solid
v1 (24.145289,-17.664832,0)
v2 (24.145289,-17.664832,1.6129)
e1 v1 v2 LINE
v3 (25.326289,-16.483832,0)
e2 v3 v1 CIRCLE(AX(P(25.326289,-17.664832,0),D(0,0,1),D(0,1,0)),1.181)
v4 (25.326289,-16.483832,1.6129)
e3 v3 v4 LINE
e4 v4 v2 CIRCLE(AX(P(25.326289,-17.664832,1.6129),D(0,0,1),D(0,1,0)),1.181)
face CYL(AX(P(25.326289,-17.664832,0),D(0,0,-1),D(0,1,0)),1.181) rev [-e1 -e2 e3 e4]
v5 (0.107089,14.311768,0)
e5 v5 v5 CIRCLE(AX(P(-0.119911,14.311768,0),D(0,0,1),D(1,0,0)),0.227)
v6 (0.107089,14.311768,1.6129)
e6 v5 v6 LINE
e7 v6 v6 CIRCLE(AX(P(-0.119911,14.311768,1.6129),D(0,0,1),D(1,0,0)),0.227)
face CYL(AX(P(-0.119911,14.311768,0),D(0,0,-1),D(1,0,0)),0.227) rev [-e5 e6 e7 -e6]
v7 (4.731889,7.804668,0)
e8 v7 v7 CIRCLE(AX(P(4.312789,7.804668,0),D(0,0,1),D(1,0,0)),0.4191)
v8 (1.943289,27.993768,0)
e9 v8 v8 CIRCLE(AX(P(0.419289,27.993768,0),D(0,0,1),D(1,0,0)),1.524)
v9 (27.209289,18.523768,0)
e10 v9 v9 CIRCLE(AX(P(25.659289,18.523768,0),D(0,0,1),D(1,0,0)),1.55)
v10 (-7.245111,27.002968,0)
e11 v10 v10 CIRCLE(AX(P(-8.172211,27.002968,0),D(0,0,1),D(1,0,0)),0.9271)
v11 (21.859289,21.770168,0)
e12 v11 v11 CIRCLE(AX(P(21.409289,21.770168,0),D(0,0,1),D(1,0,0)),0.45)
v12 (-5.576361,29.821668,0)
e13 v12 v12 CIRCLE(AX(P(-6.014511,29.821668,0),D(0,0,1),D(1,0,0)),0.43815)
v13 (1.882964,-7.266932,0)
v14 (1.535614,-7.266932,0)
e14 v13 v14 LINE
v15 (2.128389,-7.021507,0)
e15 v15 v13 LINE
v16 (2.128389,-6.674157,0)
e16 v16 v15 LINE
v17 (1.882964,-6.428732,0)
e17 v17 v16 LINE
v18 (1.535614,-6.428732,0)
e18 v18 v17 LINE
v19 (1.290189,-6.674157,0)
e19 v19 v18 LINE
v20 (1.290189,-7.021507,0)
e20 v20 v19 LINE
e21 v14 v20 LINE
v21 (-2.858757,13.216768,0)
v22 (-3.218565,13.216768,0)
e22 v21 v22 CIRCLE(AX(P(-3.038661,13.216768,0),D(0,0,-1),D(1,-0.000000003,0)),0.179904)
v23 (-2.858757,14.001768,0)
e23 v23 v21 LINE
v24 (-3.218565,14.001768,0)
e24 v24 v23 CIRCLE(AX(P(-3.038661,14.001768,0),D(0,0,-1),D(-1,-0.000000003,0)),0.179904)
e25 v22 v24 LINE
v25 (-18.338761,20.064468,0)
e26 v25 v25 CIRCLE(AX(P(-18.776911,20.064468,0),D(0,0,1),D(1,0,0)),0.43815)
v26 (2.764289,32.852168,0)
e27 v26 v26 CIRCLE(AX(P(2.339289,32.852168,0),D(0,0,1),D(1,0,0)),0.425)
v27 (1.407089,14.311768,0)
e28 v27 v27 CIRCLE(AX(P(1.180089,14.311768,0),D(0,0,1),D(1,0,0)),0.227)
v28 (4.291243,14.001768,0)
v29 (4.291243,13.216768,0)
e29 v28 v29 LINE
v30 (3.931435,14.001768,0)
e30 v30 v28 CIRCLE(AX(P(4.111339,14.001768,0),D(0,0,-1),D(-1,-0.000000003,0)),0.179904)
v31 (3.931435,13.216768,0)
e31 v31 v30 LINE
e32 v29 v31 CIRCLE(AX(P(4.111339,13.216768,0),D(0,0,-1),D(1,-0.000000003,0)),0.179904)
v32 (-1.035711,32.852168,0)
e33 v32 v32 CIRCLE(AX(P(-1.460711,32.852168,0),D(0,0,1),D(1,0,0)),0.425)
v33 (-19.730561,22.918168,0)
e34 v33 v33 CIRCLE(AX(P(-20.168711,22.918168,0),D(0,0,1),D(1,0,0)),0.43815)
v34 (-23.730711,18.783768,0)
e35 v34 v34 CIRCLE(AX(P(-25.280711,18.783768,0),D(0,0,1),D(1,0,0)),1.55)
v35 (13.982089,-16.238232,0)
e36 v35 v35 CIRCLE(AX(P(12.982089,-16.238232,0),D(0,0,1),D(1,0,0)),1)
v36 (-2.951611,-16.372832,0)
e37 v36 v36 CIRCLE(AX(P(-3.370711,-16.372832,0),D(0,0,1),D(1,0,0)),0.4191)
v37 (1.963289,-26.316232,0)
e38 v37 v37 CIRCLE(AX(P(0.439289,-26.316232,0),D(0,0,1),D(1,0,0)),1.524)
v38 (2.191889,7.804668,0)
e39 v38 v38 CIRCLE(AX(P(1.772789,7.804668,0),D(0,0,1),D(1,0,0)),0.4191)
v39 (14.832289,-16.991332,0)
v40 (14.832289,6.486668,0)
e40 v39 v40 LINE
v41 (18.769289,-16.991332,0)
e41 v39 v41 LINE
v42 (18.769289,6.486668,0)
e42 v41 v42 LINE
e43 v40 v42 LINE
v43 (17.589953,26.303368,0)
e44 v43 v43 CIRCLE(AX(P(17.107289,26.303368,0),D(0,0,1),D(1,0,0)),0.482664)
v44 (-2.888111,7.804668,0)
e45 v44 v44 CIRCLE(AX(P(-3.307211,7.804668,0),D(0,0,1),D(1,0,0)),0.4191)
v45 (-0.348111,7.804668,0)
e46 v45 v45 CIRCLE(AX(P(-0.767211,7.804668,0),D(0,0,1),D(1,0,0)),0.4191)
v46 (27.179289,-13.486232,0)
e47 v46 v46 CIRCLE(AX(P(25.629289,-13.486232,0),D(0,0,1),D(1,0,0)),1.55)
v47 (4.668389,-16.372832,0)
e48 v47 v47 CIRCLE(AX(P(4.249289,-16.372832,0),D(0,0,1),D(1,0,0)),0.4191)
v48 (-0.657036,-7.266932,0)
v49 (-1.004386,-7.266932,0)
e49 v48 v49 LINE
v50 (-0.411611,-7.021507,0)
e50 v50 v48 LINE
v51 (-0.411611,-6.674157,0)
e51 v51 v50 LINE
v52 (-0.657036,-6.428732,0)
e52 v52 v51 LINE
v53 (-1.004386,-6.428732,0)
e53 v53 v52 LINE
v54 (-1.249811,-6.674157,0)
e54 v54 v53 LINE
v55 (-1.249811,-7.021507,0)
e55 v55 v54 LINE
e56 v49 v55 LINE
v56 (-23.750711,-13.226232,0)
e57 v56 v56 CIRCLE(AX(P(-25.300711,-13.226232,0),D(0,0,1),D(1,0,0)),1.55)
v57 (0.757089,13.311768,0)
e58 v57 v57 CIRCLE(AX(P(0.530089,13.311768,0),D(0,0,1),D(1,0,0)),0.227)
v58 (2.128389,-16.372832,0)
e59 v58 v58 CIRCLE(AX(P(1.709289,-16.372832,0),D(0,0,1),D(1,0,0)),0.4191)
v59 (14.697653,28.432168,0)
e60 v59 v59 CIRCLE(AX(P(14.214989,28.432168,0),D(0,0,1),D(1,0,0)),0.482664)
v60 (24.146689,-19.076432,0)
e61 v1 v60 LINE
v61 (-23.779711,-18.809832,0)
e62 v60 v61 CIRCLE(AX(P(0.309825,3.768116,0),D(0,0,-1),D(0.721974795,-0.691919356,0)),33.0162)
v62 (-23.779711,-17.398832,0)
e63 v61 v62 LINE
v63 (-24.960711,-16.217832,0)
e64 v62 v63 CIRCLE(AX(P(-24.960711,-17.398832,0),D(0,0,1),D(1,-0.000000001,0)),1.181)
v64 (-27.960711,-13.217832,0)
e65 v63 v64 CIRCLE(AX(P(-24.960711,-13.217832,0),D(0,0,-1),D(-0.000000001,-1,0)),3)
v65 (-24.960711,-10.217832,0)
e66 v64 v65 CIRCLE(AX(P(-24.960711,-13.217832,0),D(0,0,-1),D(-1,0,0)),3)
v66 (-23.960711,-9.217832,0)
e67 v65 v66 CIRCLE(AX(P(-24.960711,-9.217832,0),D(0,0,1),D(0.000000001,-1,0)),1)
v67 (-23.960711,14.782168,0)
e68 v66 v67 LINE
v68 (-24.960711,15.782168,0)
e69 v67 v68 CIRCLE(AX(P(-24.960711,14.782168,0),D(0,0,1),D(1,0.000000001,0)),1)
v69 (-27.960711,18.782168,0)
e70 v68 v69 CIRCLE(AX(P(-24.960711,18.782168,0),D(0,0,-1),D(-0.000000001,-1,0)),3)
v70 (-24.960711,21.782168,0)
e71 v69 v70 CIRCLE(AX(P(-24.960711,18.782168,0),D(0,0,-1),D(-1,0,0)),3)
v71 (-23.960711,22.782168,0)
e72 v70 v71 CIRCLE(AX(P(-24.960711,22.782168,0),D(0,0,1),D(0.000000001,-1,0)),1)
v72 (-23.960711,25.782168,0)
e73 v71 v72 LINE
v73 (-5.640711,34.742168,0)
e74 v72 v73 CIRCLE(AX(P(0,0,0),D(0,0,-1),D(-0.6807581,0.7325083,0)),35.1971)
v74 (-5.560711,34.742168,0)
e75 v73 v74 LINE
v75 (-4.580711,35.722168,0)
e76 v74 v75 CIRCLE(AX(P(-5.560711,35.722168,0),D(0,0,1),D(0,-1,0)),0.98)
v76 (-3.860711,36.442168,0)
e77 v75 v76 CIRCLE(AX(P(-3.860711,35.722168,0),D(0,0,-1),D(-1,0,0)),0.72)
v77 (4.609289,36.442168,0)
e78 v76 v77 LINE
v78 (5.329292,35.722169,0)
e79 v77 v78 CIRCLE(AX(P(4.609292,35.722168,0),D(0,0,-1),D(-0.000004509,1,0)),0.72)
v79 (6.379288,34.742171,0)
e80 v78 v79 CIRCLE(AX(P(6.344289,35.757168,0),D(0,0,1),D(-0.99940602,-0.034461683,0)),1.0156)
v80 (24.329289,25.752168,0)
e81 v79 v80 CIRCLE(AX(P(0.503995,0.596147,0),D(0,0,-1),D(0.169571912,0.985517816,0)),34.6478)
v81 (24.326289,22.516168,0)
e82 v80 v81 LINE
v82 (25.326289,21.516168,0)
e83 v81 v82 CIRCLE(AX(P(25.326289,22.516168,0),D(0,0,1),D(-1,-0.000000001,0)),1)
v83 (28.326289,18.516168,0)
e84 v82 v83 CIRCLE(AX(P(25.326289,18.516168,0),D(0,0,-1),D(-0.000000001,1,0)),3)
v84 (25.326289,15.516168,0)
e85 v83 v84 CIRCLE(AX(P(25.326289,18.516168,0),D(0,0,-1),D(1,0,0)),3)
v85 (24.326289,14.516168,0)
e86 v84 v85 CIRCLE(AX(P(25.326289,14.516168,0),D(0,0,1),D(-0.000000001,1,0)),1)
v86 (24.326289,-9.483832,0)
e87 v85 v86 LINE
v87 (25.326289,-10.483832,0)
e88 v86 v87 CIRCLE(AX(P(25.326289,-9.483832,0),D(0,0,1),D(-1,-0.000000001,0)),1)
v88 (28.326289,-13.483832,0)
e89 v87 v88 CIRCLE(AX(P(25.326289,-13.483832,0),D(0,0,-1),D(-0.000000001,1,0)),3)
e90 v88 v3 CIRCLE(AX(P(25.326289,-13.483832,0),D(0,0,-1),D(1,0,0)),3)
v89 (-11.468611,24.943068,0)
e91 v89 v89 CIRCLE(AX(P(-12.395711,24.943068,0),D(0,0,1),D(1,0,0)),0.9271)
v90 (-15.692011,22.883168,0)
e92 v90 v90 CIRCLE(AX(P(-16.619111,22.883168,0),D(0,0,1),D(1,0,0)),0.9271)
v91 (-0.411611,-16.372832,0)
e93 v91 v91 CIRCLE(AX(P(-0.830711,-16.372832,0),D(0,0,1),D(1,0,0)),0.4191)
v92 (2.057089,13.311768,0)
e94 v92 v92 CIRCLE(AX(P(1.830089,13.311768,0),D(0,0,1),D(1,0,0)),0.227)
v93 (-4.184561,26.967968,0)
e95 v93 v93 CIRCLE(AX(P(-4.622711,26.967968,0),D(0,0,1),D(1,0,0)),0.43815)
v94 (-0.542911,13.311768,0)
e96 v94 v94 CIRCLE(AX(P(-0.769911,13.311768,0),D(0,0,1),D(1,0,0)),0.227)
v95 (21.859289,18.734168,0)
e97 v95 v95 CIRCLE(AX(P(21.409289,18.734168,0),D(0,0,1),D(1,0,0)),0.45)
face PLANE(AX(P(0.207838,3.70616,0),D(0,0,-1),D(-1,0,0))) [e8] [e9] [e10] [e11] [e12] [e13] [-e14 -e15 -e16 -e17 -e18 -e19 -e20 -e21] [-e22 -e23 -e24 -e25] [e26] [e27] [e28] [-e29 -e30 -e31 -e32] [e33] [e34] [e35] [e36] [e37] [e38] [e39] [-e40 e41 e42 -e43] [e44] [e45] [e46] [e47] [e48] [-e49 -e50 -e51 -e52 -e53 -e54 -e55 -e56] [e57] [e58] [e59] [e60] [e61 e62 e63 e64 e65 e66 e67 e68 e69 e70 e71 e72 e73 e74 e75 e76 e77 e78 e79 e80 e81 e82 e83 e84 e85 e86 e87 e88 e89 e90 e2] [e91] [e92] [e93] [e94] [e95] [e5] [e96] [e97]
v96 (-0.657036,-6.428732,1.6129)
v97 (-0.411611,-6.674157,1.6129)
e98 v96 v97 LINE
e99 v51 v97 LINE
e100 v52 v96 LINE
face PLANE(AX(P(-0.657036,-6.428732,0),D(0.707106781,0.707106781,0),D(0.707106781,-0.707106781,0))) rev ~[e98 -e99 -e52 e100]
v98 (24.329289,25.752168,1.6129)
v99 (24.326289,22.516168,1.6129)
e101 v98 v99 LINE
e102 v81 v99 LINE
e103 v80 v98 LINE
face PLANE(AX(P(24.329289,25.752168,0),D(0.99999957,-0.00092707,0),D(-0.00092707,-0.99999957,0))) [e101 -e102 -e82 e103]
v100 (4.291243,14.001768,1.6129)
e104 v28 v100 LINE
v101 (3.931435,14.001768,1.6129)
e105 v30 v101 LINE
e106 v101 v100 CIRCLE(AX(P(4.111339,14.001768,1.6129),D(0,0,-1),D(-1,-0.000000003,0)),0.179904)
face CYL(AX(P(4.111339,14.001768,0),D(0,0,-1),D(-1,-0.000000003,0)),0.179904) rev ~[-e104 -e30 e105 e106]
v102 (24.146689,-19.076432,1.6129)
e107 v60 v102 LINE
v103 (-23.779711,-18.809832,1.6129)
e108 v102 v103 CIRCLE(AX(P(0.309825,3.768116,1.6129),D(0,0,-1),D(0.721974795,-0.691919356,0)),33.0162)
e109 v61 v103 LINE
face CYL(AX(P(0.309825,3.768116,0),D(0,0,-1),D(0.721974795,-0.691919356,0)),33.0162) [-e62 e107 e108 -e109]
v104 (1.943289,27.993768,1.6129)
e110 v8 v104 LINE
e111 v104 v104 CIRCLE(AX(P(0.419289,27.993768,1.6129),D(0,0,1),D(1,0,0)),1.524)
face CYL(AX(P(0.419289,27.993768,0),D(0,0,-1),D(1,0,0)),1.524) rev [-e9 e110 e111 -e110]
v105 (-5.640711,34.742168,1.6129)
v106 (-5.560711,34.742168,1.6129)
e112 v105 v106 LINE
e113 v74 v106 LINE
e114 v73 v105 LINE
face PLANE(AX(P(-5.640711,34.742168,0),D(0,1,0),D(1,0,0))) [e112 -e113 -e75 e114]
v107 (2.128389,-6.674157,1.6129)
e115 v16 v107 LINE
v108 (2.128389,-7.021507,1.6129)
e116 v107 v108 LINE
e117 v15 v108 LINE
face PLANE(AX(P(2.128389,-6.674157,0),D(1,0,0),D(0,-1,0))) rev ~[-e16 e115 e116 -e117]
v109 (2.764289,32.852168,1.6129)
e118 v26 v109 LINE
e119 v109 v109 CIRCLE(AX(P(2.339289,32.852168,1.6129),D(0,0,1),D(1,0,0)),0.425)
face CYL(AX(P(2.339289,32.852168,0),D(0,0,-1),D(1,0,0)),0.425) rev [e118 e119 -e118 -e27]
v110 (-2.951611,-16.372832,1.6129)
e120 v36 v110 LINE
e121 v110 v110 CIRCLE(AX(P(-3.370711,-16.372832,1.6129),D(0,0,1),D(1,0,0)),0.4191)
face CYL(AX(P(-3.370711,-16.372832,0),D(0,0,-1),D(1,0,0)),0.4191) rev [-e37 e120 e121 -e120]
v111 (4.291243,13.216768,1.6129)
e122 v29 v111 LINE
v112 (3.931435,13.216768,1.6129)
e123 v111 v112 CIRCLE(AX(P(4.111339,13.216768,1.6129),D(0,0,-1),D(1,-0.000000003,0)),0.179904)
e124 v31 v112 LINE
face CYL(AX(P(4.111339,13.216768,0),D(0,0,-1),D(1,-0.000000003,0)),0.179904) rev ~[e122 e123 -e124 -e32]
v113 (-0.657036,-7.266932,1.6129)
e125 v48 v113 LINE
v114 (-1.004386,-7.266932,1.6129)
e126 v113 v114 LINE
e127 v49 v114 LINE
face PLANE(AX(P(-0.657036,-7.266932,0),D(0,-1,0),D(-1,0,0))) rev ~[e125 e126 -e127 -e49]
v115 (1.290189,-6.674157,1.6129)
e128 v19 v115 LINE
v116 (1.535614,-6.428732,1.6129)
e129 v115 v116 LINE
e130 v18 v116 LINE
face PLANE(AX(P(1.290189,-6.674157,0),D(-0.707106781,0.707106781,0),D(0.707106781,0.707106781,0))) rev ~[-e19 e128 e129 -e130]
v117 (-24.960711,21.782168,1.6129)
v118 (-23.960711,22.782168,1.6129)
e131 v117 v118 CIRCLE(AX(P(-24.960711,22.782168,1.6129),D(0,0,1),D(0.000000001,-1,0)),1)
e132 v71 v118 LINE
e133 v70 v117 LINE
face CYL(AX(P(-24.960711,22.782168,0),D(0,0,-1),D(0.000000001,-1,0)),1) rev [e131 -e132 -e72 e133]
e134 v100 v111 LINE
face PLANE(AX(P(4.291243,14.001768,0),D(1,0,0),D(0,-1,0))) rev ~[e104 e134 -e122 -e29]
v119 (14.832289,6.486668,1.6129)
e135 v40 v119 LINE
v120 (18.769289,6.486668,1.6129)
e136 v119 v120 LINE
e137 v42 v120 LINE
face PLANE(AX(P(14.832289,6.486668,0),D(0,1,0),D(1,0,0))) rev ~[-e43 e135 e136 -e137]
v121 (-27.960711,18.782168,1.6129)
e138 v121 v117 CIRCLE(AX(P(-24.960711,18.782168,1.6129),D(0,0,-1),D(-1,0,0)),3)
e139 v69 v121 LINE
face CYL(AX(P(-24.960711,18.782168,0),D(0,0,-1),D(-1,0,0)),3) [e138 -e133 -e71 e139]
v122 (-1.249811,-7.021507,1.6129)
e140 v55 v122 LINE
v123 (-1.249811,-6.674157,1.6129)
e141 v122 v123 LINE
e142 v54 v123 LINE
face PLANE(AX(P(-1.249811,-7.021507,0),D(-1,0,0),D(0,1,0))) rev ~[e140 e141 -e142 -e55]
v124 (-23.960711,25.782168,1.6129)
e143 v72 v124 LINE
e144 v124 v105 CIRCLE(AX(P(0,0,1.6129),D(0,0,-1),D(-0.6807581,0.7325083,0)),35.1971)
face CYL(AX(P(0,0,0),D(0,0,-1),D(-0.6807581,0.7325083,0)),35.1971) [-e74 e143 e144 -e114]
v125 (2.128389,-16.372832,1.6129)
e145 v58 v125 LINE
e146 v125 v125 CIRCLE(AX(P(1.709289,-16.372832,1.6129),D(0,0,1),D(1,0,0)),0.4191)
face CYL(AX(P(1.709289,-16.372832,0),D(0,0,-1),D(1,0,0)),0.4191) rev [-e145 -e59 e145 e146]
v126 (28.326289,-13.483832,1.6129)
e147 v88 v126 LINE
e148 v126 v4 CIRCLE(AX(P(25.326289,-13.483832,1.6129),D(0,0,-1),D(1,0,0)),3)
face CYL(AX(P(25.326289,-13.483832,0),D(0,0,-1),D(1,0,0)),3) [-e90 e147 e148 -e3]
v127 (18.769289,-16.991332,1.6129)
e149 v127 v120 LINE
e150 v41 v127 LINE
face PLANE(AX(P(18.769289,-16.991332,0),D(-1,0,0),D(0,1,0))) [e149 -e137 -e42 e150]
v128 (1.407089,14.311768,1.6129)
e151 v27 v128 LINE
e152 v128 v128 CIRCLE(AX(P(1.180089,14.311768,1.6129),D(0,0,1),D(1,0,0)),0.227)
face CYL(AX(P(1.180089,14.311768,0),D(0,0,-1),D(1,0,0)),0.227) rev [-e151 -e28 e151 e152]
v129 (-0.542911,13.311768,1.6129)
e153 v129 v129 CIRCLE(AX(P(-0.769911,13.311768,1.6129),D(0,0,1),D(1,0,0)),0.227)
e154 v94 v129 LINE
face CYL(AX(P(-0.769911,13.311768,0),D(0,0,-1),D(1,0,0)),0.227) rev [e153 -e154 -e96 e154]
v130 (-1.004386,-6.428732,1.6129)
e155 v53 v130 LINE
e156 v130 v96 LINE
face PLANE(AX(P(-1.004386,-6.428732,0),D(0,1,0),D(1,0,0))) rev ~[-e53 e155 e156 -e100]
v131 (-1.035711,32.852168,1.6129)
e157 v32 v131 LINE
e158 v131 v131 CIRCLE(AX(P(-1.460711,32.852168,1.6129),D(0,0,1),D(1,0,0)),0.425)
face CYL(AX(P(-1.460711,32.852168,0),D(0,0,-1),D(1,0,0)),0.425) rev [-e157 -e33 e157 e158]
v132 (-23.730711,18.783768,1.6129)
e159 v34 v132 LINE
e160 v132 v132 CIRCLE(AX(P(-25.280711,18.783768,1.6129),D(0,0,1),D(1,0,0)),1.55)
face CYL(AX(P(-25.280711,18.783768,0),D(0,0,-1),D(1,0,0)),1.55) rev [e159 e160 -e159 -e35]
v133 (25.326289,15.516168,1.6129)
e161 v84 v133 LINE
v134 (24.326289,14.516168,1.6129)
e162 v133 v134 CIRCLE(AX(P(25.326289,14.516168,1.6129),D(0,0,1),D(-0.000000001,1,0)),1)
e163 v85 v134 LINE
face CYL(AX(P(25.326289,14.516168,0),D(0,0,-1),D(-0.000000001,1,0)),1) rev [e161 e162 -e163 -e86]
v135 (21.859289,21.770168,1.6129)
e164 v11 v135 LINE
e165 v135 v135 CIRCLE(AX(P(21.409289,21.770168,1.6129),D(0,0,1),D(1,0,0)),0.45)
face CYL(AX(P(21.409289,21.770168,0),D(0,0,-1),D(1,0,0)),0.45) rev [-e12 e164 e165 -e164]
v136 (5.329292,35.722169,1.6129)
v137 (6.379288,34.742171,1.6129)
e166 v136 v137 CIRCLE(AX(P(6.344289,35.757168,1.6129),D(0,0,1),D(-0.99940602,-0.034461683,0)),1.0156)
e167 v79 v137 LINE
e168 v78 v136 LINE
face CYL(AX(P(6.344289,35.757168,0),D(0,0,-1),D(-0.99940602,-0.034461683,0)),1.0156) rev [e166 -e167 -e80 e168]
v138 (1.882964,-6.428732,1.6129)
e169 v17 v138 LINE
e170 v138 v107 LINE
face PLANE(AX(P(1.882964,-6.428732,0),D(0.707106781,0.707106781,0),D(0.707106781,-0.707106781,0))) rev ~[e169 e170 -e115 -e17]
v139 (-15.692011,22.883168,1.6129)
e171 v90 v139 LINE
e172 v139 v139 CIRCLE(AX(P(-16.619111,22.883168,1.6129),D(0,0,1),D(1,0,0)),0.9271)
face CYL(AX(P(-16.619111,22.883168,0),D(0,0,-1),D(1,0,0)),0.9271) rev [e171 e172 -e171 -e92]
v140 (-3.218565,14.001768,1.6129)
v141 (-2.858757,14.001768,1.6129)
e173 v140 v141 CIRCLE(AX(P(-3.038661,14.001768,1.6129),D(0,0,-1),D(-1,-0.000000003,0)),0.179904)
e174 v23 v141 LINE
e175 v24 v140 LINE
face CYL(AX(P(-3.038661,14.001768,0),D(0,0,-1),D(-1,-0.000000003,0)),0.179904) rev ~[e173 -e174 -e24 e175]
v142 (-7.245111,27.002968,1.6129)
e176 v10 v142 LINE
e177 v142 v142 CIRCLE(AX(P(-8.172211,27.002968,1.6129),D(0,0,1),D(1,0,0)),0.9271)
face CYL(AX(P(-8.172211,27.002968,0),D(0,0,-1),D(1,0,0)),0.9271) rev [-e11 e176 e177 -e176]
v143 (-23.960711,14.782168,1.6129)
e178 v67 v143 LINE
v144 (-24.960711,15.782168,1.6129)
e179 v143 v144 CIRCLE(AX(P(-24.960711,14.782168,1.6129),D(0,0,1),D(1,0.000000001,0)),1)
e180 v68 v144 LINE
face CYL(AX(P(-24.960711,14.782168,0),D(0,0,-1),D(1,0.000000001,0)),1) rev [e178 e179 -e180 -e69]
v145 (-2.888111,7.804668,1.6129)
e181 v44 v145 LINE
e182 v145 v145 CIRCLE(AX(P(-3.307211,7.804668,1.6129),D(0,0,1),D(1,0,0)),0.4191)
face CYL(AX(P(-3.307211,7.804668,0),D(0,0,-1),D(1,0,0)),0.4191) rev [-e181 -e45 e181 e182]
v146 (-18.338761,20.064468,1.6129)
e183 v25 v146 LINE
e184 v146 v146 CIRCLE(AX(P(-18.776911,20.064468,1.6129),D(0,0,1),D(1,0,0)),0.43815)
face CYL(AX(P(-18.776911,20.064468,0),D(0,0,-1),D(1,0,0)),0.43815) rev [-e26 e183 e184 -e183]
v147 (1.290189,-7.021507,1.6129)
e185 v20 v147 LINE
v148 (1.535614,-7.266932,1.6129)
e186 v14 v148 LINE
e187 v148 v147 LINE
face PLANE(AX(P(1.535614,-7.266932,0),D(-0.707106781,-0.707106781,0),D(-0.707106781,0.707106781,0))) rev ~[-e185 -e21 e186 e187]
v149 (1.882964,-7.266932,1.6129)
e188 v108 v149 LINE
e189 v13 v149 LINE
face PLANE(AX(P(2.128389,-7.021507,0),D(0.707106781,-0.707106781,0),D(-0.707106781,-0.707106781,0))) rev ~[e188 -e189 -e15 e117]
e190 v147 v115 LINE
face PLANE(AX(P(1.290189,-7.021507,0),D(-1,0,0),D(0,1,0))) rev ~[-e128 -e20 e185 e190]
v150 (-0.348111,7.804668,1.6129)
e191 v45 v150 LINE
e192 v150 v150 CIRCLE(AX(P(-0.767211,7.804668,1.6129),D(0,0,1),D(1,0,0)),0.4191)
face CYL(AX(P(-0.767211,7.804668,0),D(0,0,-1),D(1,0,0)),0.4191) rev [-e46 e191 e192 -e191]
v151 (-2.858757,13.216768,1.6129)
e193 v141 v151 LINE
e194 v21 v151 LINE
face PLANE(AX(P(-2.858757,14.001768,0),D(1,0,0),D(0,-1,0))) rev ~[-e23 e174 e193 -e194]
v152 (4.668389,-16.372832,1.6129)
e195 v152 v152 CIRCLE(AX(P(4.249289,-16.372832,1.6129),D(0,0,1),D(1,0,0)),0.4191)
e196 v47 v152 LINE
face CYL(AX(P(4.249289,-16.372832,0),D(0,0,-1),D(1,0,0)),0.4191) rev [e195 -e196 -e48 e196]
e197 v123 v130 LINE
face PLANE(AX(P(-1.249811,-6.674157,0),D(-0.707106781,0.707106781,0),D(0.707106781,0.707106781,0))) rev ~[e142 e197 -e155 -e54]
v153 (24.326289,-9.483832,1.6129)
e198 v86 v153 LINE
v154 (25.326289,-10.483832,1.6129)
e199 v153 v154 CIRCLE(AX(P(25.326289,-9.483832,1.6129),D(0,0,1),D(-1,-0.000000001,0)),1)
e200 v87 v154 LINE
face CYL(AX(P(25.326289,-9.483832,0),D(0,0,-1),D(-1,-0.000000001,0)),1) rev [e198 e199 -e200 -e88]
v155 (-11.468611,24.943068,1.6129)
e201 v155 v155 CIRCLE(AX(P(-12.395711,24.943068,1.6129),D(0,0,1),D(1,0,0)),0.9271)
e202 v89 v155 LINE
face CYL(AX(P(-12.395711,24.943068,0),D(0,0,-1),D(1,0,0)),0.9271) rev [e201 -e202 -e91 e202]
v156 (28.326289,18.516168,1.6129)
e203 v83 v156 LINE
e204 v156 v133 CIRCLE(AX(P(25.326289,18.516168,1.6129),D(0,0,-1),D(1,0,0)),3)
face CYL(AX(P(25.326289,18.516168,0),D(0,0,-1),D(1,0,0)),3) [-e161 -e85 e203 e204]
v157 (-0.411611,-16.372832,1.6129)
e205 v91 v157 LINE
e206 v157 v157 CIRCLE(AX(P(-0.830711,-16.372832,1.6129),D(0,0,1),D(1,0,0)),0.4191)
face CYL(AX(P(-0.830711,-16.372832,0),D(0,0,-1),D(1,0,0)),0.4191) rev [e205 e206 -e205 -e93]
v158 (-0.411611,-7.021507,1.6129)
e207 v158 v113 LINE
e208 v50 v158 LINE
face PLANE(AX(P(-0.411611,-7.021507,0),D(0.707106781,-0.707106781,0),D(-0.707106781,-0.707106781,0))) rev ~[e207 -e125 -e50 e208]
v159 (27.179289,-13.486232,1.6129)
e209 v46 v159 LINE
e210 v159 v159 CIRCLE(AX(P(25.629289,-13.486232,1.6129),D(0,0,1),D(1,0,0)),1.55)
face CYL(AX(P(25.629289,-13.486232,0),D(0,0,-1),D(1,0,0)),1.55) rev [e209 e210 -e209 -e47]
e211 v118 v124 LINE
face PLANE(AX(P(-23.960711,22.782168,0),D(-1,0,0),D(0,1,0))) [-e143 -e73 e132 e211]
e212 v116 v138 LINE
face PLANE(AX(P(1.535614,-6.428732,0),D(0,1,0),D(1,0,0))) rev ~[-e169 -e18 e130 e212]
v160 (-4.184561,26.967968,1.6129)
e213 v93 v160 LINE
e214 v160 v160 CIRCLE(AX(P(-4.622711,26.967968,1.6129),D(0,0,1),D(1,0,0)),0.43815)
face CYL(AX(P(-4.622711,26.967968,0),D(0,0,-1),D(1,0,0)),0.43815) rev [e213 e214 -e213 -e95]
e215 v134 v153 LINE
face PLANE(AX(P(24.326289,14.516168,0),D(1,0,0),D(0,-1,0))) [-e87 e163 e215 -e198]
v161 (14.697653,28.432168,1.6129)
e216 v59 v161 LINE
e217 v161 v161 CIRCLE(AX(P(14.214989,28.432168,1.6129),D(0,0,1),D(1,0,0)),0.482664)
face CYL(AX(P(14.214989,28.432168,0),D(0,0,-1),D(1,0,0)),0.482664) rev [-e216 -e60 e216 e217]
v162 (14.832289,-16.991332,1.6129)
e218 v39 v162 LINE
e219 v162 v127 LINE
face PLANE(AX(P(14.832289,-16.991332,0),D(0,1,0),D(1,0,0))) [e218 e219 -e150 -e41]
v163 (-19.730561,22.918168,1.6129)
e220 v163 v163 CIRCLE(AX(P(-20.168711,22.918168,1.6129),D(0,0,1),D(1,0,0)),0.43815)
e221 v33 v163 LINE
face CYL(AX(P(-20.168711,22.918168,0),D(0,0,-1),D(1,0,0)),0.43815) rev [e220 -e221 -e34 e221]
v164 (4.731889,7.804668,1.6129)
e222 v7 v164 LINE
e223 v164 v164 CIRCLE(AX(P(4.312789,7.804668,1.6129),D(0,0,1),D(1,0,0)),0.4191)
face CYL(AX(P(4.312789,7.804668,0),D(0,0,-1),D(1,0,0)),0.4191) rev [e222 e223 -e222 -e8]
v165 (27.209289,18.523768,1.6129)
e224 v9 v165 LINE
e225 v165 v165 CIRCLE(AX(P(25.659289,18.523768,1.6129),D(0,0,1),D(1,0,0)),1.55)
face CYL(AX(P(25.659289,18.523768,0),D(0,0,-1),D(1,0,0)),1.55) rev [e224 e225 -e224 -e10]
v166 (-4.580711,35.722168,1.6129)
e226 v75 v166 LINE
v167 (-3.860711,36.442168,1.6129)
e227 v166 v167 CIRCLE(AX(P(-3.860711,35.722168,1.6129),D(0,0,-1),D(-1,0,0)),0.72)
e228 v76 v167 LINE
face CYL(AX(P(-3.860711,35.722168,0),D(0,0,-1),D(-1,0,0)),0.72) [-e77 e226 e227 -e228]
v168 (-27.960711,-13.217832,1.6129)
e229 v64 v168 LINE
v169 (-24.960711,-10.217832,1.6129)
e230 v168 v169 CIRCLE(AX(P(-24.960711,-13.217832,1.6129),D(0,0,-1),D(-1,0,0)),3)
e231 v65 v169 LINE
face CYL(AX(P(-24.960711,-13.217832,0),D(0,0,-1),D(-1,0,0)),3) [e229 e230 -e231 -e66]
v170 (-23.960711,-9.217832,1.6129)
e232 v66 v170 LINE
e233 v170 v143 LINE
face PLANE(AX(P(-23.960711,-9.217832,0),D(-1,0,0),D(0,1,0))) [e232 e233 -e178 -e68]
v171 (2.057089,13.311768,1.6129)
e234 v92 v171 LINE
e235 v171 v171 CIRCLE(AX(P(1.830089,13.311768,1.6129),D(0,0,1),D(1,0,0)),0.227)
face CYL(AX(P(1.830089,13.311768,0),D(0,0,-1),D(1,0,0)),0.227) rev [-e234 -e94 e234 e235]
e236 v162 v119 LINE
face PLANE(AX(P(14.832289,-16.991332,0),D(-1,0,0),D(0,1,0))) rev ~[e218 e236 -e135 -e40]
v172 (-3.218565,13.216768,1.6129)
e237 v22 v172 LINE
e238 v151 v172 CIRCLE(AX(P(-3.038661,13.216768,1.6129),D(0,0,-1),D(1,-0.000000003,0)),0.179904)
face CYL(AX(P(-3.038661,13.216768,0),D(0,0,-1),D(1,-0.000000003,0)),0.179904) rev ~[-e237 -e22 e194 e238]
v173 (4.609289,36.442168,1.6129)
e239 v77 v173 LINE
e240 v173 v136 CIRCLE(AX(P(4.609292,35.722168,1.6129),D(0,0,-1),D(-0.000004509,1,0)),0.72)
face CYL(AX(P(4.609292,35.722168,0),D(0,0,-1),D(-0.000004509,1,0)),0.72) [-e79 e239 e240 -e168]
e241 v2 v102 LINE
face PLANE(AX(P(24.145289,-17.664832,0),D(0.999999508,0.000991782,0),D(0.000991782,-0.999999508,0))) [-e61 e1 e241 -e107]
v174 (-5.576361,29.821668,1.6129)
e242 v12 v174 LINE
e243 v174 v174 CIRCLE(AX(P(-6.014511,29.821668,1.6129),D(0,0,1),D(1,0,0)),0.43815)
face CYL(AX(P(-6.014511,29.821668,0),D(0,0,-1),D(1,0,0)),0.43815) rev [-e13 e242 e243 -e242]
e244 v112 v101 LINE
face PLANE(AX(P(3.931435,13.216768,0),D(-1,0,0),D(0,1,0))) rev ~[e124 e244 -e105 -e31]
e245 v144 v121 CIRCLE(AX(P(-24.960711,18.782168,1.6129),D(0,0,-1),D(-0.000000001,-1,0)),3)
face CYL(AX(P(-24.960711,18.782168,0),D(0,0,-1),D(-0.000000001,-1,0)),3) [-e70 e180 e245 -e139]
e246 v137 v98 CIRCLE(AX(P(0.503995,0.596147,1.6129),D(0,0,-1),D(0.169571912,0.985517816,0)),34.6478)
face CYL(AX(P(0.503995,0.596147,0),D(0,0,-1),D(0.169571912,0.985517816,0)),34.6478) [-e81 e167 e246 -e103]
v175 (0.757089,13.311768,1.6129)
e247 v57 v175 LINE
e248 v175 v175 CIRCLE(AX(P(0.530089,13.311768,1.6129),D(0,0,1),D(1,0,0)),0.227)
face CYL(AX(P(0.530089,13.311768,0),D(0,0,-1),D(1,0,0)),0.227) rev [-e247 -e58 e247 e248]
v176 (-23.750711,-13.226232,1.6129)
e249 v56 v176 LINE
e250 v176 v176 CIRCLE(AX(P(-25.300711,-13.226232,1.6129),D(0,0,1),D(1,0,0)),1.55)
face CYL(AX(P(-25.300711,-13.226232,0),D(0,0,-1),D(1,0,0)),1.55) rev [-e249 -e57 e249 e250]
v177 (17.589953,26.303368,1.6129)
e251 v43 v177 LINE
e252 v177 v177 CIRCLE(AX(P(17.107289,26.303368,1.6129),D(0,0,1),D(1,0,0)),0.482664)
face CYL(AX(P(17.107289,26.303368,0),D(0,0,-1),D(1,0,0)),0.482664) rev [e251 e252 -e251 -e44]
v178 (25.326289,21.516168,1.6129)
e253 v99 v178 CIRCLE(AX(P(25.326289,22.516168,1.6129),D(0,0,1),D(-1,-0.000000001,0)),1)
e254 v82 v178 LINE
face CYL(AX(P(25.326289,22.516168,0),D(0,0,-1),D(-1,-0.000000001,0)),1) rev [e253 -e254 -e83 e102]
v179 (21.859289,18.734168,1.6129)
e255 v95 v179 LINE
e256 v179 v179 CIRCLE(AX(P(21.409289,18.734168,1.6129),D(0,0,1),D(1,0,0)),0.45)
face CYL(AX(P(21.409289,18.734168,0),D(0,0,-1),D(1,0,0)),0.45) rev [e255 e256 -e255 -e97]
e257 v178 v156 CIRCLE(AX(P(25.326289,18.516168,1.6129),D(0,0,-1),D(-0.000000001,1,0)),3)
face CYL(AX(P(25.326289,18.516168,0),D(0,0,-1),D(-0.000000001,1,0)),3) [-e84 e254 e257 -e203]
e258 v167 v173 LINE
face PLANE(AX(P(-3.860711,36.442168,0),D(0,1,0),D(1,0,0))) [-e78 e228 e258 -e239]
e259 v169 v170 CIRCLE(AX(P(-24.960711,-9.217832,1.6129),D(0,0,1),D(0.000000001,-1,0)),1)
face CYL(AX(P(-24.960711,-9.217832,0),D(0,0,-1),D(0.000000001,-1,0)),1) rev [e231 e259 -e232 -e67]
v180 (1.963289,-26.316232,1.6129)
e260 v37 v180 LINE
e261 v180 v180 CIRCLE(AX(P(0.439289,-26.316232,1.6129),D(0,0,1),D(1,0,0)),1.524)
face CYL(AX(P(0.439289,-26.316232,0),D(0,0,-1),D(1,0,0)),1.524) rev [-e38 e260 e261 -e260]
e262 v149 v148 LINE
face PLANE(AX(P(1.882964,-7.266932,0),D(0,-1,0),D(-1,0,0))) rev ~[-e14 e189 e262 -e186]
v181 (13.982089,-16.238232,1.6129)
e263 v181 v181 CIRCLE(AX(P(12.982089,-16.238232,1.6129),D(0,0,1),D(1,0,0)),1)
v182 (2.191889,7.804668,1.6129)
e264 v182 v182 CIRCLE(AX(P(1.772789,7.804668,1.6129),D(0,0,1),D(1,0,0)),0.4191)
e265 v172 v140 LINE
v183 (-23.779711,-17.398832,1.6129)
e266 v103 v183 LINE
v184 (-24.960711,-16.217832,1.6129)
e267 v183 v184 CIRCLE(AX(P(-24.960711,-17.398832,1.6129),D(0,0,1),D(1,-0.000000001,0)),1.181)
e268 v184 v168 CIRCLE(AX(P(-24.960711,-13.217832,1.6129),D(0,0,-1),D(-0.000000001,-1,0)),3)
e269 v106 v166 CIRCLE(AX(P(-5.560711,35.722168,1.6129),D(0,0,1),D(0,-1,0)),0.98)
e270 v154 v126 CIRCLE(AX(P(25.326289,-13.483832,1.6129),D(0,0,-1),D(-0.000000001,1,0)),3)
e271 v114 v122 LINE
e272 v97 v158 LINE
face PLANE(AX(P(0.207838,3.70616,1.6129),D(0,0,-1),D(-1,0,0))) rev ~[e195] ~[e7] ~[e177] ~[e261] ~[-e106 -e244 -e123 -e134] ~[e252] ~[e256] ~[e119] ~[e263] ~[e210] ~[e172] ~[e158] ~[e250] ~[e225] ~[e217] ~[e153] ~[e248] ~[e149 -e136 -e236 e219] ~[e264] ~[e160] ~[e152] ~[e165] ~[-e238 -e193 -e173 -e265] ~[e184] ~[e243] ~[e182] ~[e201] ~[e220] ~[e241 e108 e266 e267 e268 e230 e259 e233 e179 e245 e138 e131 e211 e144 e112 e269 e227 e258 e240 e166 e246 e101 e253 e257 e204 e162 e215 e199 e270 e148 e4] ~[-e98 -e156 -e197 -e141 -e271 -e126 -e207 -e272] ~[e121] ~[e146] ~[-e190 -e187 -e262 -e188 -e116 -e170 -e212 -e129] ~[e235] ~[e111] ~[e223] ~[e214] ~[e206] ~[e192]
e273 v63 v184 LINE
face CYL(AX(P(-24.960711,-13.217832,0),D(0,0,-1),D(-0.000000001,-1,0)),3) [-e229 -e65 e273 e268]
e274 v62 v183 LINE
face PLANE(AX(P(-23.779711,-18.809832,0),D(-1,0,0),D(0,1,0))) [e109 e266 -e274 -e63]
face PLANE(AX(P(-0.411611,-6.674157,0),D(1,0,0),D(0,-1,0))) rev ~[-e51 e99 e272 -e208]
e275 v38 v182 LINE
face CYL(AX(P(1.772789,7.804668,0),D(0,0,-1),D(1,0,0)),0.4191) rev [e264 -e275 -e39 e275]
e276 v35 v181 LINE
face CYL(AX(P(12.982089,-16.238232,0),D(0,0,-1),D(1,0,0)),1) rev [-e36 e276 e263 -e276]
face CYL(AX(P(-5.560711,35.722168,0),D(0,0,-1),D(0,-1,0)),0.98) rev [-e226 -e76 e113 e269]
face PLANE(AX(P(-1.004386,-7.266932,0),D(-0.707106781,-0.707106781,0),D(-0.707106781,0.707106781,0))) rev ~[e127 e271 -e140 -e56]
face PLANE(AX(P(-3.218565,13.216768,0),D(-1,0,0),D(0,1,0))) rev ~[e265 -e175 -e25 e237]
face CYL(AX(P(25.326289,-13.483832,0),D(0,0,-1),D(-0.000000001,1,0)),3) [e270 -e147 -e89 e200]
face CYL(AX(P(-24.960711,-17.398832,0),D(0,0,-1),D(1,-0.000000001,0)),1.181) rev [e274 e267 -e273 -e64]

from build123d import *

# Parameters (mm, degrees)
MODEL_R             = 0.4191
MODEL_R_2           = 0.227
MODEL_R_3           = 0.482663622
MODEL_R_4           = 0.43815
MODEL_R_5           = 0.9271
MODEL_R_6           = 0.425
MODEL_R_7           = 0.45
MODEL_R_8           = 1.524
MODEL_R_9           = 1.55
MODEL_R_10          = 1
MODEL_W             = 3.937
MODEL_H             = 23.478
BOSS_EXTRUDE1_DEPTH = 1.6129


with BuildPart() as part:
    # Model → Boss-Extrude1 (new body)
    with BuildSketch(Plane.XY):
        with BuildLine():
            Line((-23.779710926, -18.809832125), (-23.779710926, -17.398832125))
            ThreePointArc((-23.779710926, -17.398832125), (-24.125617817, -16.563739016), (-24.960710926, -16.217832125))
            ThreePointArc((-24.960710926, -16.217832125), (-27.082031269, -15.339152468), (-27.960710926, -13.217832125))
            ThreePointArc((-27.960710926, -13.217832125), (-27.082031269, -11.096511781), (-24.960710926, -10.217832125))
            ThreePointArc((-24.960710926, -10.217832125), (-24.253604145, -9.924938906), (-23.960710926, -9.217832125))
            Line((-23.960710926, -9.217832125), (-23.960710926, 14.782167875))
            ThreePointArc((-23.960710926, 14.782167875), (-24.253604145, 15.489274656), (-24.960710926, 15.782167875))
            ThreePointArc((-24.960710926, 15.782167875), (-27.082031269, 16.660847532), (-27.960710926, 18.782167875))
            ThreePointArc((-27.960710926, 18.782167875), (-27.082031269, 20.903488219), (-24.960710926, 21.782167875))
            ThreePointArc((-24.960710926, 21.782167875), (-24.253604145, 22.075061094), (-23.960710926, 22.782167875))
            Line((-23.960710926, 22.782167875), (-23.960710926, 25.782167875))
            ThreePointArc((-23.960710926, 25.782167875), (-15.463875449, 31.618102481), (-5.640710926, 34.742167875))
            Line((-5.640710926, 34.742167875), (-5.560710926, 34.742167875))
            ThreePointArc((-5.560710926, 34.742167875), (-4.86774628, 35.02920323), (-4.580710926, 35.722167875))
            ThreePointArc((-4.580710926, 35.722167875), (-4.369827808, 36.231284758), (-3.860710926, 36.442167875))
            Line((-3.860710926, 36.442167875), (4.609289074, 36.442167875))
            ThreePointArc((4.609289074, 36.442167875), (5.118407802, 36.231286158), (5.32929232, 35.72216859))
            ThreePointArc((5.32929232, 35.72216859), (5.651326218, 35.014708556), (6.379288359, 34.742171121))
            ThreePointArc((6.379288359, 34.742171121), (16.019672961, 31.575717146), (24.329289074, 25.752167875))
            Line((24.329289074, 25.752167875), (24.326289074, 22.516167875))
            ThreePointArc((24.326289074, 22.516167875), (24.619182293, 21.809061094), (25.326289074, 21.516167875))
            ThreePointArc((25.326289074, 21.516167875), (27.447609418, 20.637488219), (28.326289074, 18.516167875))
            ThreePointArc((28.326289074, 18.516167875), (27.447609418, 16.394847532), (25.326289074, 15.516167875))
            ThreePointArc((25.326289074, 15.516167875), (24.619182293, 15.223274656), (24.326289074, 14.516167875))
            Line((24.326289074, 14.516167875), (24.326289074, -9.483832125))
            ThreePointArc((24.326289074, -9.483832125), (24.619182293, -10.190938906), (25.326289074, -10.483832125))
            ThreePointArc((25.326289074, -10.483832125), (27.447609418, -11.362511781), (28.326289074, -13.483832125))
            ThreePointArc((28.326289074, -13.483832125), (27.447609418, -15.605152468), (25.326289074, -16.483832125))
            ThreePointArc((25.326289074, -16.483832125), (24.491195966, -16.829739016), (24.145289074, -17.664832125))
            Line((24.145289074, -17.664832125), (24.146689074, -19.076432125))
            ThreePointArc((24.146689074, -19.076432125), (0.126168598, -29.247573474), (-23.779710926, -18.809832125))
        make_face()
        with Locations((-3.370710926, -16.372832125)):
            Circle(MODEL_R, mode=Mode.SUBTRACT)
        with Locations((-0.830710926, -16.372832125)):
            Circle(MODEL_R, mode=Mode.SUBTRACT)
        with Locations((1.709289074, -16.372832125)):
            Circle(MODEL_R, mode=Mode.SUBTRACT)
        with Locations((4.249289074, -16.372832125)):
            Circle(MODEL_R, mode=Mode.SUBTRACT)
        with Locations((4.312789074, 7.804667875)):
            Circle(MODEL_R, mode=Mode.SUBTRACT)
        with Locations((1.772789074, 7.804667875)):
            Circle(MODEL_R, mode=Mode.SUBTRACT)
        with Locations((-0.767210926, 7.804667875)):
            Circle(MODEL_R, mode=Mode.SUBTRACT)
        with Locations((-3.307210926, 7.804667875)):
            Circle(MODEL_R, mode=Mode.SUBTRACT)
        with Locations((0.530089074, 13.311767875)):
            Circle(MODEL_R_2, mode=Mode.SUBTRACT)
        with Locations((-0.119910926, 14.311767875)):
            Circle(MODEL_R_2, mode=Mode.SUBTRACT)
        with Locations((1.830089074, 13.311767875)):
            Circle(MODEL_R_2, mode=Mode.SUBTRACT)
        with Locations((1.180089074, 14.311767875)):
            Circle(MODEL_R_2, mode=Mode.SUBTRACT)
        with Locations((-0.769910926, 13.311767875)):
            Circle(MODEL_R_2, mode=Mode.SUBTRACT)
        with Locations((14.214989074, 28.432167875)):
            Circle(MODEL_R_3, mode=Mode.SUBTRACT)
        with Locations((-20.168710926, 22.918167875)):
            Circle(MODEL_R_4, mode=Mode.SUBTRACT)
        with Locations((17.107289074, 26.303367875)):
            Circle(MODEL_R_3, mode=Mode.SUBTRACT)
        with Locations((-18.776910926, 20.064467875)):
            Circle(MODEL_R_4, mode=Mode.SUBTRACT)
        with Locations((-6.014510926, 29.821667875)):
            Circle(MODEL_R_4, mode=Mode.SUBTRACT)
        with Locations((-4.622710926, 26.967967875)):
            Circle(MODEL_R_4, mode=Mode.SUBTRACT)
        with Locations((-16.619110926, 22.883167875)):
            Circle(MODEL_R_5, mode=Mode.SUBTRACT)
        with Locations((-12.395710926, 24.943067875)):
            Circle(MODEL_R_5, mode=Mode.SUBTRACT)
        with Locations((-8.172210926, 27.002967875)):
            Circle(MODEL_R_5, mode=Mode.SUBTRACT)
        with Locations((2.339289074, 32.852167875)):
            Circle(MODEL_R_6, mode=Mode.SUBTRACT)
        with Locations((-1.460710926, 32.852167875)):
            Circle(MODEL_R_6, mode=Mode.SUBTRACT)
        with Locations((21.409289074, 21.770167875)):
            Circle(MODEL_R_7, mode=Mode.SUBTRACT)
        with Locations((21.409289074, 18.734167875)):
            Circle(MODEL_R_7, mode=Mode.SUBTRACT)
        with Locations((0.419289074, 27.993767875)):
            Circle(MODEL_R_8, mode=Mode.SUBTRACT)
        with Locations((-25.280710926, 18.783767875)):
            Circle(MODEL_R_9, mode=Mode.SUBTRACT)
        with Locations((-25.300710926, -13.226232125)):
            Circle(MODEL_R_9, mode=Mode.SUBTRACT)
        with Locations((0.439289074, -26.316232125)):
            Circle(MODEL_R_8, mode=Mode.SUBTRACT)
        with Locations((25.629289074, -13.486232125)):
            Circle(MODEL_R_9, mode=Mode.SUBTRACT)
        with Locations((25.659289074, 18.523767875)):
            Circle(MODEL_R_9, mode=Mode.SUBTRACT)
        with Locations((12.982089074, -16.238232125)):
            Circle(MODEL_R_10, mode=Mode.SUBTRACT)
        with BuildLine():
            Line((-2.85875692, 14.001767875), (-2.85875692, 13.216767875))
            ThreePointArc((-2.85875692, 13.216767875), (-3.038660926, 13.03686387), (-3.218564931, 13.216767875))
            Line((-3.218564931, 13.216767875), (-3.218564931, 14.001767875))
            ThreePointArc((-3.218564931, 14.001767875), (-3.038660926, 14.181671881), (-2.85875692, 14.001767875))
        make_face(mode=Mode.SUBTRACT)
        with BuildLine():
            Line((4.29124308, 14.001767875), (4.29124308, 13.216767875))
            ThreePointArc((4.29124308, 13.216767875), (4.111339074, 13.03686387), (3.931435069, 13.216767875))
            Line((3.931435069, 13.216767875), (3.931435069, 14.001767875))
            ThreePointArc((3.931435069, 14.001767875), (4.111339074, 14.181671881), (4.29124308, 14.001767875))
        make_face(mode=Mode.SUBTRACT)
        Polygon((2.128389074, -6.674157085), (2.128389074, -7.021507165), (1.882964114, -7.266932125), (1.535614034, -7.266932125), (1.290189074, -7.021507165), (1.290189074, -6.674157085), (1.535614034, -6.428732125), (1.882964114, -6.428732125), align=None, mode=Mode.SUBTRACT)
        Polygon((-0.411610926, -6.674157085), (-0.411610926, -7.021507165), (-0.657035886, -7.266932125), (-1.004385966, -7.266932125), (-1.249810926, -7.021507165), (-1.249810926, -6.674157085), (-1.004385966, -6.428732125), (-0.657035886, -6.428732125), align=None, mode=Mode.SUBTRACT)
        with Locations((16.800789074, -5.252332125)):
            Rectangle(MODEL_W, MODEL_H, mode=Mode.SUBTRACT)
    extrude(amount=BOSS_EXTRUDE1_DEPTH)


solid = part.part
